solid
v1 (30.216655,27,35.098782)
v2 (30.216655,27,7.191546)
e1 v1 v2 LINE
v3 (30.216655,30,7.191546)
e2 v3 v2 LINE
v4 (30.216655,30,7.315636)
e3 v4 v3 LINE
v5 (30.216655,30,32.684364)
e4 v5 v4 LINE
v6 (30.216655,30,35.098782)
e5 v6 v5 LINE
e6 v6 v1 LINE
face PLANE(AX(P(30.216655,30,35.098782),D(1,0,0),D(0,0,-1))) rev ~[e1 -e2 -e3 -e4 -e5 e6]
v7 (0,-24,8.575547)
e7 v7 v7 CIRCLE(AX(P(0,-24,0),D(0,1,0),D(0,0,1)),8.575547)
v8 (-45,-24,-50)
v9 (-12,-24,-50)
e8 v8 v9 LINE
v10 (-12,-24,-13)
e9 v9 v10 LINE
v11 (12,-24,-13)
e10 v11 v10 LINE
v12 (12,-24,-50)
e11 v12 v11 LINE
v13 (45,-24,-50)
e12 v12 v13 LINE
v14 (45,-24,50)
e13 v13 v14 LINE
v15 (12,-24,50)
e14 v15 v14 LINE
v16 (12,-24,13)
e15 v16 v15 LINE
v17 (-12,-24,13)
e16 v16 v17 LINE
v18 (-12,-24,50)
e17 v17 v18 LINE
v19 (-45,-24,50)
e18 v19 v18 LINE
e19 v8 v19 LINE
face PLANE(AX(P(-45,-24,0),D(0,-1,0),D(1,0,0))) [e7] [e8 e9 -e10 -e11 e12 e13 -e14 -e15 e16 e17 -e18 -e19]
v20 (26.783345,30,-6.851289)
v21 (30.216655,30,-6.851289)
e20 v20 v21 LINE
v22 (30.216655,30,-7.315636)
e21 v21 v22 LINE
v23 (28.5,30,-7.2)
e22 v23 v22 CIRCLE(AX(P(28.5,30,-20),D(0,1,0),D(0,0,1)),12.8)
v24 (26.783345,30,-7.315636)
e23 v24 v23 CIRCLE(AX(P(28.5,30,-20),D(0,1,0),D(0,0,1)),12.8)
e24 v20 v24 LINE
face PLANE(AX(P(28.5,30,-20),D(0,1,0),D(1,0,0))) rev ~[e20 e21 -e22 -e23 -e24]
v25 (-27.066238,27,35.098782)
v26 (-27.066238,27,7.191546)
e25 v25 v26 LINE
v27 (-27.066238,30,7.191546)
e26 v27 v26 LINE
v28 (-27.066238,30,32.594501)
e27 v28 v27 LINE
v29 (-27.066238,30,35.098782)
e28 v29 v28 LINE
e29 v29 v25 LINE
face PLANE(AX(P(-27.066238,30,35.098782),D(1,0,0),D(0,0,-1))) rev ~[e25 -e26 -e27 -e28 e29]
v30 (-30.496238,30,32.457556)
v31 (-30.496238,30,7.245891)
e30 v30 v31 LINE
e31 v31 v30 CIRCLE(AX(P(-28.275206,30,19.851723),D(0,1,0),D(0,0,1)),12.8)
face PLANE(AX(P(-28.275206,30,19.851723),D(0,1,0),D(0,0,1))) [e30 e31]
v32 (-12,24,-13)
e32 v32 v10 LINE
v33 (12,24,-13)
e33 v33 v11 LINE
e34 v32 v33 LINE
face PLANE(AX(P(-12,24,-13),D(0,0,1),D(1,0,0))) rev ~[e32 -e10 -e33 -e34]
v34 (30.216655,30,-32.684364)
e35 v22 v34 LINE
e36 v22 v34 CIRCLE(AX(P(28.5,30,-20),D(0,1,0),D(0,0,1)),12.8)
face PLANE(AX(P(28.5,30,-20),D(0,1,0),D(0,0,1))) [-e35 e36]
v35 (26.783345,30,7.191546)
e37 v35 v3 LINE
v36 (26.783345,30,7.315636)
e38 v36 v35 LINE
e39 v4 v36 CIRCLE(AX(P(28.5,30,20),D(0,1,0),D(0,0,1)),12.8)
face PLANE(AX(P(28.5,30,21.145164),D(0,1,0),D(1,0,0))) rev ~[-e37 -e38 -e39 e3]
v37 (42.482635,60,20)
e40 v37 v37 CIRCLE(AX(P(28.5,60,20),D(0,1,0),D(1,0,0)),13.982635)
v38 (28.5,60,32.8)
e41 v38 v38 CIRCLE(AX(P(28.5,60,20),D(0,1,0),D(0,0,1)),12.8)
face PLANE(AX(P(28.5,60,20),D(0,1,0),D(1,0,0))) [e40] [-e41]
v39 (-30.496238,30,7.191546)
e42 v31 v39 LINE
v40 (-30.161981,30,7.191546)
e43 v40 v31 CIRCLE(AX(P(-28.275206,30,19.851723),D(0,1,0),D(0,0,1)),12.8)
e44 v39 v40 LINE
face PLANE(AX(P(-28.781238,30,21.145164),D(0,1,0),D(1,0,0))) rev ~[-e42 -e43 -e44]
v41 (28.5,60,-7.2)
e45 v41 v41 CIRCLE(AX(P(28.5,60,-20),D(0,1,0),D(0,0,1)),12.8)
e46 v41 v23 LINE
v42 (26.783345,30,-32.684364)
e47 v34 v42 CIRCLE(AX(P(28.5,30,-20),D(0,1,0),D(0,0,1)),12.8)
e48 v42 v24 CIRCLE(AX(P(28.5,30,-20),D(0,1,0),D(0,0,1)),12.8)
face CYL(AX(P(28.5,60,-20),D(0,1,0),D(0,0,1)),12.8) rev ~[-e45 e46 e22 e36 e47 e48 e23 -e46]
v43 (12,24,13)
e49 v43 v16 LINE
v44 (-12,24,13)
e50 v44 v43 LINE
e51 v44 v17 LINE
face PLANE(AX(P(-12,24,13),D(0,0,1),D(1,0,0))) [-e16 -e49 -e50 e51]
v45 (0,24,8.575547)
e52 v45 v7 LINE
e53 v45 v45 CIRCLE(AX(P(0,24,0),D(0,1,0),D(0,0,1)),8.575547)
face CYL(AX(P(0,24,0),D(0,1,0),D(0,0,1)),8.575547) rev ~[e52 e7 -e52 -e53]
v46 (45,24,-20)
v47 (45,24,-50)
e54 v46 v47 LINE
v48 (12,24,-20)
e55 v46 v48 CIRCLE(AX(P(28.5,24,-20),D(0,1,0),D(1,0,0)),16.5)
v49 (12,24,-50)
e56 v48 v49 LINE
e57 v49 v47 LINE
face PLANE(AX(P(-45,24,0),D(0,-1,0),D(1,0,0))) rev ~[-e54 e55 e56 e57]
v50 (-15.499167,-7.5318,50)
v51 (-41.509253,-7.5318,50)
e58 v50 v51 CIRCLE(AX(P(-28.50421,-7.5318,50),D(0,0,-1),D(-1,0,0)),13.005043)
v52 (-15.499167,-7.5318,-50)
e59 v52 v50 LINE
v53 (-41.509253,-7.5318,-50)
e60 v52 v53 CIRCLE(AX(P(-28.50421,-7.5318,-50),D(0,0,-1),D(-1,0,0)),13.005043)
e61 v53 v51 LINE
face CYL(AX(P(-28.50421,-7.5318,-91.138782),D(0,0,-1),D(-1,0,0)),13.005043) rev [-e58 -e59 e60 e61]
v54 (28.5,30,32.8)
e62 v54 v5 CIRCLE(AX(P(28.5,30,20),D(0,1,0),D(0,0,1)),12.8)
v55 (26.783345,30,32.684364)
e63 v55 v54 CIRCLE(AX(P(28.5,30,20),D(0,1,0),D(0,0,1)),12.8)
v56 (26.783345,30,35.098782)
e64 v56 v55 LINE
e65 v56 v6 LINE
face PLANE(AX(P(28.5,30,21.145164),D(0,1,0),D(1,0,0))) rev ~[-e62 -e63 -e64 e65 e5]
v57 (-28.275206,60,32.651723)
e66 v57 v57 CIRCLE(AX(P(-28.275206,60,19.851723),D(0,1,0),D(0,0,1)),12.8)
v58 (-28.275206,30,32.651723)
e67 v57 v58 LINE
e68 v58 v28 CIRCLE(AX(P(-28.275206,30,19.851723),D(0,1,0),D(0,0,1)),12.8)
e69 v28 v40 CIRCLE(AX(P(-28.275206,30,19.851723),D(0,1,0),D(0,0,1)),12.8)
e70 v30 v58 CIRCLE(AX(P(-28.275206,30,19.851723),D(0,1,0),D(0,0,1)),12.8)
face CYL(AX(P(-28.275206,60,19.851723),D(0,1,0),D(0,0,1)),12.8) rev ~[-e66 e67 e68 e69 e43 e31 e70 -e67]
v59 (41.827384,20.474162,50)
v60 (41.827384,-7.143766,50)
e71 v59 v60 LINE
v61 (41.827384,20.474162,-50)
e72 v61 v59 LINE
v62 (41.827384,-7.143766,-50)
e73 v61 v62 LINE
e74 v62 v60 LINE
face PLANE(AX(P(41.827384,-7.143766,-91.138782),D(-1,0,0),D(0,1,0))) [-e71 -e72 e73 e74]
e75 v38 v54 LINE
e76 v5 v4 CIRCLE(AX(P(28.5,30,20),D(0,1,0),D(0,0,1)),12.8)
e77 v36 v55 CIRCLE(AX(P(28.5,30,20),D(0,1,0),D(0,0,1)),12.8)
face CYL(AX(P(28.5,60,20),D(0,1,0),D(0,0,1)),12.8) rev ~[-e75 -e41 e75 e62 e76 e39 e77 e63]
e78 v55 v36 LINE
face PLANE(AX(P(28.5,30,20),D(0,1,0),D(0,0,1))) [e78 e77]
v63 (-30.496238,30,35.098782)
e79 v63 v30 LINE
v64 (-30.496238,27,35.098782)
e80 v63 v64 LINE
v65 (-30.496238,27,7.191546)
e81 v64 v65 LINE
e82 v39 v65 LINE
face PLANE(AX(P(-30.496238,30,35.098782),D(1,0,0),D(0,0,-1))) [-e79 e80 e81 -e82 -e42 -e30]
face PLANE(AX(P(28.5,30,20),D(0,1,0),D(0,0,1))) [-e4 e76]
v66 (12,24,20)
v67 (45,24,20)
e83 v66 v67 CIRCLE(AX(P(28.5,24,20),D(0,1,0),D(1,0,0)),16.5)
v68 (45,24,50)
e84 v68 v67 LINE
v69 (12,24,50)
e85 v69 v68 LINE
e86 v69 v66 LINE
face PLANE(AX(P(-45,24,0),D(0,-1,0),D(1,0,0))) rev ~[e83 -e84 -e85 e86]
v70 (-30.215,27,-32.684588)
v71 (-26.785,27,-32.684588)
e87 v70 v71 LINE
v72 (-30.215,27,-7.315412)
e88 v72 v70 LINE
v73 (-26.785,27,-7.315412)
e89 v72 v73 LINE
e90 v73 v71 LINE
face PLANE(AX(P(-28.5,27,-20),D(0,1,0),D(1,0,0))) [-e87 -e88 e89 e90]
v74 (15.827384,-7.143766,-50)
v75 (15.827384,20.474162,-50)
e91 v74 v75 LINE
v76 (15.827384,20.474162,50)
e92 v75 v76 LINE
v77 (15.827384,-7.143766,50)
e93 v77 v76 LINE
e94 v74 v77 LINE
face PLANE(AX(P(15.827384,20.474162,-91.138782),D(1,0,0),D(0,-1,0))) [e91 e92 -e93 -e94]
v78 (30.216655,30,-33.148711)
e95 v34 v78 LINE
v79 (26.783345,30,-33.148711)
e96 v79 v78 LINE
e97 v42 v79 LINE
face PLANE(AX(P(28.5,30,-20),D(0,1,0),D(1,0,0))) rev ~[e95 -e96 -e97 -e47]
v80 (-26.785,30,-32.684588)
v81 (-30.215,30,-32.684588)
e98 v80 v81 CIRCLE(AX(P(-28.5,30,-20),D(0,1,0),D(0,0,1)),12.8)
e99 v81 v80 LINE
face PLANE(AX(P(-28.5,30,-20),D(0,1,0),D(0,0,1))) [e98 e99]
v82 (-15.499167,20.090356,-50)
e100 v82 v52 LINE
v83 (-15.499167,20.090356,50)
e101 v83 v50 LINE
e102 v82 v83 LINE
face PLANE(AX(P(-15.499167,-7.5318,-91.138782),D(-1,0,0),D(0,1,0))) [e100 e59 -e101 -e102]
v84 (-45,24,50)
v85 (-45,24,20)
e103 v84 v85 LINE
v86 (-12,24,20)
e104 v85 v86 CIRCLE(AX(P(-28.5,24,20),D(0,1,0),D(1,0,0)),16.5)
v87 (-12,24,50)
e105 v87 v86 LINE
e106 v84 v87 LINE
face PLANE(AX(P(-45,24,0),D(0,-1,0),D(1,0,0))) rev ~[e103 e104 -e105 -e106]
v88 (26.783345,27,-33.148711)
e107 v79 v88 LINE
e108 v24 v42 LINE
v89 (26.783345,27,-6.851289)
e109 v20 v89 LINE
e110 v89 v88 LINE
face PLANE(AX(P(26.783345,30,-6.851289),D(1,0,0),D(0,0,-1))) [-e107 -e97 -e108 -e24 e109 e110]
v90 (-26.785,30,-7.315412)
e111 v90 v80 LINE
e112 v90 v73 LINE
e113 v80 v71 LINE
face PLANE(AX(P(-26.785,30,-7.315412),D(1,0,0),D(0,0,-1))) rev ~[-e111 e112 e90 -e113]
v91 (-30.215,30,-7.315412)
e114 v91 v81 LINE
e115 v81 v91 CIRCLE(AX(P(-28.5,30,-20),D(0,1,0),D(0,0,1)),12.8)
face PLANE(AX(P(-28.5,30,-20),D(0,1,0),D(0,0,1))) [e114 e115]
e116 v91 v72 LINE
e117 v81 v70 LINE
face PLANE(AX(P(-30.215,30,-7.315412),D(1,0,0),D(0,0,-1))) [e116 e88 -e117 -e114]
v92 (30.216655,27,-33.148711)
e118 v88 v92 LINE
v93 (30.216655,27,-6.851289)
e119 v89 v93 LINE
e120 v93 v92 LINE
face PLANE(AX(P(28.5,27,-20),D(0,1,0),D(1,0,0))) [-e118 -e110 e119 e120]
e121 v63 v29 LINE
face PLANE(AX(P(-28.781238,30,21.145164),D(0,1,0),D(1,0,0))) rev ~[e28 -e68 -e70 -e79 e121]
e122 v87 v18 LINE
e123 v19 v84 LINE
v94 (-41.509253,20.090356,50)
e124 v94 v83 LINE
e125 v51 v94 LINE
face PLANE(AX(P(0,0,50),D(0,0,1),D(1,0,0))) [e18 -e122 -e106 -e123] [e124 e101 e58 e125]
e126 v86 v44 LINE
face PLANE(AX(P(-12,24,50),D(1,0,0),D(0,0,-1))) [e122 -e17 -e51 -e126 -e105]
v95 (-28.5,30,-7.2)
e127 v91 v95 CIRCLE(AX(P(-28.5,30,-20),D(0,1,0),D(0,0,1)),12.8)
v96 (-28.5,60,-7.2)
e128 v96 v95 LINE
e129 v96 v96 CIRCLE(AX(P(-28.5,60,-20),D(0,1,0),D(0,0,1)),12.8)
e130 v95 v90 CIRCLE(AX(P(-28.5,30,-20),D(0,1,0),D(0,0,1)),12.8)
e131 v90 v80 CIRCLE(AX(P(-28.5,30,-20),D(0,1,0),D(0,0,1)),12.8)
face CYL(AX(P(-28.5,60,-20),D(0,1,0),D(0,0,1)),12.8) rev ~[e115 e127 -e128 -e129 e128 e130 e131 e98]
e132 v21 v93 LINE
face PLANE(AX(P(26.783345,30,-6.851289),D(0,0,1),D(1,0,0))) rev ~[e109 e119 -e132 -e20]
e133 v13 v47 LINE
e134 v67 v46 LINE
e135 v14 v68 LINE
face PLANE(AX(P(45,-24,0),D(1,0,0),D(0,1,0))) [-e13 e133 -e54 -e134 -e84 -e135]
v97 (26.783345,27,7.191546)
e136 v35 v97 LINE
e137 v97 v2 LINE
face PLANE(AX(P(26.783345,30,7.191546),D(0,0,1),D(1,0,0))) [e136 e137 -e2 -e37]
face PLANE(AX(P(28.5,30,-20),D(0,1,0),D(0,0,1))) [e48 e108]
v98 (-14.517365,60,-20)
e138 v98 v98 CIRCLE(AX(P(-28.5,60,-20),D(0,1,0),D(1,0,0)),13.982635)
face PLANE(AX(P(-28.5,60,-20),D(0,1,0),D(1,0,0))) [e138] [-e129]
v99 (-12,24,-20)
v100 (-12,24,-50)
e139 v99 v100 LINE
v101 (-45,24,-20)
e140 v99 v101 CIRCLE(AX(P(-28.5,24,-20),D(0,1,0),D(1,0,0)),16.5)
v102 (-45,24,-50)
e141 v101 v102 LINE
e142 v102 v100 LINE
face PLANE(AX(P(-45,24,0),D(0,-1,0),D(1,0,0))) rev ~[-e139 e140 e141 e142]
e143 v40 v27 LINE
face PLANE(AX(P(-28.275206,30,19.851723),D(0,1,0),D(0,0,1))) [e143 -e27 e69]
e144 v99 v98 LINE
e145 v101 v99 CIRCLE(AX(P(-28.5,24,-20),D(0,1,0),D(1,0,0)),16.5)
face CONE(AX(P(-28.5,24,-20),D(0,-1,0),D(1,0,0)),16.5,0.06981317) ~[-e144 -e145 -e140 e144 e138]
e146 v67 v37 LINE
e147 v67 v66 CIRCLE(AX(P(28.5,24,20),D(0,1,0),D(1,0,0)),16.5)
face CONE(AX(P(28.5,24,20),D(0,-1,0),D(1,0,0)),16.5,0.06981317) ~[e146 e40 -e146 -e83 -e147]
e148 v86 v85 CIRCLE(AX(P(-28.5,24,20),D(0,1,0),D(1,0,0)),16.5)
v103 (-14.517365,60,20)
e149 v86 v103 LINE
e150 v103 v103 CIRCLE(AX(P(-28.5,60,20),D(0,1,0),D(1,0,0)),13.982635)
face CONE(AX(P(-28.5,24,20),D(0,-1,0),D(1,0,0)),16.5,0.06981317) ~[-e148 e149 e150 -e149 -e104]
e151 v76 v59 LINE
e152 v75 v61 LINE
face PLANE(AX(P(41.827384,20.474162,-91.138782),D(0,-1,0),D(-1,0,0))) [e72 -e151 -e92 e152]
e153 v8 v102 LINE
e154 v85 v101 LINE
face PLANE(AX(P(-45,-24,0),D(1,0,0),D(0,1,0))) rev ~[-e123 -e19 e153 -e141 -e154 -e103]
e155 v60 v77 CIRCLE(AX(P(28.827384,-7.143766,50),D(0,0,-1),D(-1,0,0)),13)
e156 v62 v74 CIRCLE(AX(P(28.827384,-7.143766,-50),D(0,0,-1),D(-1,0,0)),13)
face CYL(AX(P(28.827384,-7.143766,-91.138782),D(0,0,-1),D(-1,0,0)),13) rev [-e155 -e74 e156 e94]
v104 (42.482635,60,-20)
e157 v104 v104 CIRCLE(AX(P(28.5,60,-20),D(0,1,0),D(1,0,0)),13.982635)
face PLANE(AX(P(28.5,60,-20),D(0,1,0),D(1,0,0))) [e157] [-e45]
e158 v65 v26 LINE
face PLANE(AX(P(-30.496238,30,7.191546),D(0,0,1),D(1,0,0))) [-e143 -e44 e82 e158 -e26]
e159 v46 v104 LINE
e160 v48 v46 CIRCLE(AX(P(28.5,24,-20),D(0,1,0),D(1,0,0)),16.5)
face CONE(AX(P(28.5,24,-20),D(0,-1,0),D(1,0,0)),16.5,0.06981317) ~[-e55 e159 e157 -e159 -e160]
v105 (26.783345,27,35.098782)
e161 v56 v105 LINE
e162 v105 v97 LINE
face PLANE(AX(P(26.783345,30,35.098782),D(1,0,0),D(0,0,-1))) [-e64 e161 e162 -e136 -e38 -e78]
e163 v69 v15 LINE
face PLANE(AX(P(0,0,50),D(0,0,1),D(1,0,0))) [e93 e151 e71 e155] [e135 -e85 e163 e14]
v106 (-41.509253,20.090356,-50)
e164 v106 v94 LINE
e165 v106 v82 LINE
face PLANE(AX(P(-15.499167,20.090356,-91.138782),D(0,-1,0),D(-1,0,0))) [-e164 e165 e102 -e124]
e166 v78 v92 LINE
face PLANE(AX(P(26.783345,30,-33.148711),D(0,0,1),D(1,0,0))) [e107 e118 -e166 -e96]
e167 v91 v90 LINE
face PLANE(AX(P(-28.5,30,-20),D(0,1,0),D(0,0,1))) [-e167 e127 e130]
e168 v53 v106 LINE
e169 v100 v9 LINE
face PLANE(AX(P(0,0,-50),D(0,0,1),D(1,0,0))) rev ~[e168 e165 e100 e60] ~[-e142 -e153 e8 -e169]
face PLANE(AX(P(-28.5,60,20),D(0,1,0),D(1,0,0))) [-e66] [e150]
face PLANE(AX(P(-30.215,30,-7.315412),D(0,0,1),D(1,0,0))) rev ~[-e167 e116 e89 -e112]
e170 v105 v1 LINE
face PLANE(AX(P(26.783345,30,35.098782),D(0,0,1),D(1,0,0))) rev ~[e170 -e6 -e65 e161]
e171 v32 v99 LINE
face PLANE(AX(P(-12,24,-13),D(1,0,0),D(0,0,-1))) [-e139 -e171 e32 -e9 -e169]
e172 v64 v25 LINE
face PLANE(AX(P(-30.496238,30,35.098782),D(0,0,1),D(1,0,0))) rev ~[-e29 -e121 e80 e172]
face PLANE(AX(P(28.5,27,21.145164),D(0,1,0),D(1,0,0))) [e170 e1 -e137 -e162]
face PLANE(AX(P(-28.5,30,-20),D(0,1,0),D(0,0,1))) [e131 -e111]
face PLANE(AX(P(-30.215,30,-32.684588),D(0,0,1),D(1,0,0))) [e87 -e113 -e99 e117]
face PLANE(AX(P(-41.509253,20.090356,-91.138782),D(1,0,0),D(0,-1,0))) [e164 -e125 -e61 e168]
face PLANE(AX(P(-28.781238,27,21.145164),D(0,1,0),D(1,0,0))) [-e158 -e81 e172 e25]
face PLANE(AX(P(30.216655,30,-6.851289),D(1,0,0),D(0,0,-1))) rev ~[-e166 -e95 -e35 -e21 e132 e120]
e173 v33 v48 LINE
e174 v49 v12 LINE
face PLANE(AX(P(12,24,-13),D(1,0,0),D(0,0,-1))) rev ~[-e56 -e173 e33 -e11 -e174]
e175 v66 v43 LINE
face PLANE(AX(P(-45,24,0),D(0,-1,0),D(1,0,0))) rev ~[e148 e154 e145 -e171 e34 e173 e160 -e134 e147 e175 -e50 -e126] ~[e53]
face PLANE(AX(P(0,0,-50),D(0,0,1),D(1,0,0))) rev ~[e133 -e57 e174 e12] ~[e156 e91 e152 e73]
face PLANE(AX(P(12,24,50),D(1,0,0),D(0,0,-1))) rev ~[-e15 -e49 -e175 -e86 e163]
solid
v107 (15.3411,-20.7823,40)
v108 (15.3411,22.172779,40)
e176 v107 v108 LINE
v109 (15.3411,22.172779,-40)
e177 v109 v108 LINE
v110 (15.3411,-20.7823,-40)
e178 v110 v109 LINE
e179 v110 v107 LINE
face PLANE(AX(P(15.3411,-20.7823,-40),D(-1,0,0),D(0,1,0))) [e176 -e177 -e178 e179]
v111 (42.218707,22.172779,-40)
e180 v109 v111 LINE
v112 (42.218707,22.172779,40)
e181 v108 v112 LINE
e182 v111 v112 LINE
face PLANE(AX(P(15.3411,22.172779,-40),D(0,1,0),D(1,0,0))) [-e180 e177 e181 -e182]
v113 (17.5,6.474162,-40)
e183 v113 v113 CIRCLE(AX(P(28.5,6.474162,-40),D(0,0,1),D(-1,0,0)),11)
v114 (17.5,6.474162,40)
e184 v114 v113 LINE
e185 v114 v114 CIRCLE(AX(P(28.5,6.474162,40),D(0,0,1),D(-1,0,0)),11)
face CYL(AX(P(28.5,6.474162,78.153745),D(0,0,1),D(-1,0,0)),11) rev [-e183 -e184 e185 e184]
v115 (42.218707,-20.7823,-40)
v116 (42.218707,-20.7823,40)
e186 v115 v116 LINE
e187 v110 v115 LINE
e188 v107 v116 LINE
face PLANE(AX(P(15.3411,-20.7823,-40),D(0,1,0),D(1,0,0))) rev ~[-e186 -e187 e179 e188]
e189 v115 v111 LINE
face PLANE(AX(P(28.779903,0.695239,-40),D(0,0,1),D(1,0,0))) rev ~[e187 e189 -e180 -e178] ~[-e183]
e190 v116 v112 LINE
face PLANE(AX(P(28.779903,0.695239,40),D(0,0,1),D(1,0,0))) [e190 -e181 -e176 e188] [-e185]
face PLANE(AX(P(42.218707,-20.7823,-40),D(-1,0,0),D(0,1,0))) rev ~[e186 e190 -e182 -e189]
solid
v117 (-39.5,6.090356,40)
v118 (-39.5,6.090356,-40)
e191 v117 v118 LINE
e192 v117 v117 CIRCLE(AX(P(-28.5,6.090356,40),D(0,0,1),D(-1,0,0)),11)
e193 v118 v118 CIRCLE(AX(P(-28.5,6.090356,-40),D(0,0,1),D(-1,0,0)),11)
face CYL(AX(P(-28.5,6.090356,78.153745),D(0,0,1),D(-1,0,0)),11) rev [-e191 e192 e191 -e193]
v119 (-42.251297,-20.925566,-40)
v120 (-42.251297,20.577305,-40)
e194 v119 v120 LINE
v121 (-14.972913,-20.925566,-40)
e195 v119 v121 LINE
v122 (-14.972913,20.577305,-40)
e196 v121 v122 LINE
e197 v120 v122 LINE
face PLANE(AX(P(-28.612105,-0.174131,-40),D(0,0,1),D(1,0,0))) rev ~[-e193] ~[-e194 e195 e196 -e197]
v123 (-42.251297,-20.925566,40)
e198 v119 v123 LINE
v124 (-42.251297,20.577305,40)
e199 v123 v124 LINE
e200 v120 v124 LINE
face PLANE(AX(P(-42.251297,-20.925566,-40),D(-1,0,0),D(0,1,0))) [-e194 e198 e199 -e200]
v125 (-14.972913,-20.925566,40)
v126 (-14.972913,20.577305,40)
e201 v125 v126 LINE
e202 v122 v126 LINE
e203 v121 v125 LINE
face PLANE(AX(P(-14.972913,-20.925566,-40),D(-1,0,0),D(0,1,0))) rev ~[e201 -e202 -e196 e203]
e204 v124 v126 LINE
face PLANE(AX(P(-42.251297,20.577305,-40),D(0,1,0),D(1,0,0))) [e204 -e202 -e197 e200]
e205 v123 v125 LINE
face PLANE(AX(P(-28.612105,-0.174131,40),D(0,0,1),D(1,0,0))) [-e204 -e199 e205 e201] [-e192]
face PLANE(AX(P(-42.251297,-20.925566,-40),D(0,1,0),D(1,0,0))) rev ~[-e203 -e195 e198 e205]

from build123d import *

# Parameters (mm, degrees)
SKETCH1_W                     = 90
SKETCH1_H                     = 48
BOSS_EXTRUDE1_DEPTH           = 50
SKETCH2_W                     = 24
SKETCH2_H                     = 37
CUT_EXTRUDE1_DEPTH            = 100
SKETCH3_W                     = 24
SKETCH3_H                     = 37
CUT_EXTRUDE2_DEPTH            = 100
SKETCH4_R                     = 8.575546541
CUT_EXTRUDE3_DEPTH            = 100
SKETCH5_R                     = 16.5
BOSS_EXTRUDE2_DEPTH           = 36
BOSS_EXTRUDE2_DRAFT           = 4
BOSS_EXTRUDE2_PROFILE_2_DEPTH = 36
BOSS_EXTRUDE2_PROFILE_2_DRAFT = 4
BOSS_EXTRUDE2_PROFILE_3_DEPTH = 36
BOSS_EXTRUDE2_PROFILE_3_DRAFT = 4
BOSS_EXTRUDE2_PROFILE_4_DEPTH = 36
BOSS_EXTRUDE2_PROFILE_4_DRAFT = 4
SKETCH6_R                     = 12.8
CUT_EXTRUDE4_DEPTH            = 30
SKETCH10_R                    = 12.8
CUT_EXTRUDE5_DEPTH            = 30
SKETCH12_W                    = 3.43330904
SKETCH12_H                    = 26.297422042
SKETCH12_W_2                  = 3.43
SKETCH12_H_2                  = 25.369176178
SKETCH12_H_3                  = 27.907235724
CUT_EXTRUDE6_DEPTH            = 3
CUT_EXTRUDE9_DEPTH            = 91.138781887
CUT_EXTRUDE9_DEPTH_BACK       = 91.138781887
BOSS_EXTRUDE3_DEPTH           = 40
BOSS_EXTRUDE3_DEPTH_BACK      = 40
SKETCH18_W                    = 26.877606789
SKETCH18_H                    = 42.955079342
BOSS_EXTRUDE3_2_DEPTH         = 40
BOSS_EXTRUDE3_2_DEPTH_BACK    = 40
SKETCH18_W_2                  = 27.278383828
SKETCH18_H_2                  = 41.502870551
CUT_EXTRUDE10_DEPTH           = 118.153745139
CUT_EXTRUDE10_DEPTH_BACK      = 118.153745139
SKETCH19_R                    = 11


with BuildPart() as part:
    # Sketch1 → Boss-Extrude1 (new, symmetric)
    with BuildSketch(Plane.XY):
        Rectangle(SKETCH1_W, SKETCH1_H)
    extrude(amount=BOSS_EXTRUDE1_DEPTH, both=True)

    # Sketch2 → Cut-Extrude1 (cut)
    with BuildSketch(Plane(origin=(0, 24, 0), x_dir=(1, 0, 0), z_dir=(0, 1, 0))):
        with Locations((0, 31.5)):
            Rectangle(SKETCH2_W, SKETCH2_H)
    extrude(amount=-CUT_EXTRUDE1_DEPTH, mode=Mode.SUBTRACT)

    # Sketch3 → Cut-Extrude2 (cut)
    with BuildSketch(Plane(origin=(0, 24, 0), x_dir=(1, 0, 0), z_dir=(0, 1, 0))):
        with Locations((0, -31.5)):
            Rectangle(SKETCH3_W, SKETCH3_H)
    extrude(amount=-CUT_EXTRUDE2_DEPTH, mode=Mode.SUBTRACT)

    # Sketch4 → Cut-Extrude3 (cut)
    with BuildSketch(Plane(origin=(0, 24, 0), x_dir=(1, 0, 0), z_dir=(0, 1, 0))):
        with Locations(Location((0, 0, 0), (0, 0, 270))):
            Circle(SKETCH4_R)
    extrude(amount=-CUT_EXTRUDE3_DEPTH, mode=Mode.SUBTRACT)


with BuildPart() as boss_extrude2_tool:
    # Sketch5 → Boss-Extrude2 (with draft: the straight prism first)
    with BuildSketch(Plane(origin=(0, 24, 0), x_dir=(1, 0, 0), z_dir=(0, 1, 0))):
        with Locations((28.5, 20)):
            Circle(SKETCH5_R)
    extrude(amount=BOSS_EXTRUDE2_DEPTH)
    # Boss-Extrude2: the draft: its side faces are tilted about the plane it starts from
    boss_extrude2_sides = [boss_extrude2_tool.faces().sort_by_distance(p)[0] for p in [
        (12, 42, -20),
    ]]
    draft(boss_extrude2_sides, Plane(origin=(0, 24, 0), x_dir=(1, 0, 0), z_dir=(0, 1, 0)), BOSS_EXTRUDE2_DRAFT)


with BuildPart() as part_1:
    add(part.part)

    # Boss-Extrude2: add boss_extrude2_tool
    add(boss_extrude2_tool.part)


with BuildPart() as boss_extrude2_profile_2_tool:
    # Sketch5 → Boss-Extrude2 profile 2 (with draft: the straight prism first)
    with BuildSketch(Plane(origin=(0, 24, 0), x_dir=(1, 0, 0), z_dir=(0, 1, 0))):
        with Locations((-28.5, 20)):
            Circle(SKETCH5_R)
    extrude(amount=BOSS_EXTRUDE2_PROFILE_2_DEPTH)
    # Boss-Extrude2 profile 2: the draft: its side faces are tilted about the plane it starts from
    boss_extrude2_profile_2_sides = [boss_extrude2_profile_2_tool.faces().sort_by_distance(p)[0] for p in [
        (-45, 42, -20),
    ]]
    draft(boss_extrude2_profile_2_sides, Plane(origin=(0, 24, 0), x_dir=(1, 0, 0), z_dir=(0, 1, 0)), BOSS_EXTRUDE2_PROFILE_2_DRAFT)


with BuildPart() as part_2:
    add(part_1.part)

    # Boss-Extrude2 profile 2: add boss_extrude2_profile_2_tool
    add(boss_extrude2_profile_2_tool.part)


with BuildPart() as boss_extrude2_profile_3_tool:
    # Sketch5 → Boss-Extrude2 profile 3 (with draft: the straight prism first)
    with BuildSketch(Plane(origin=(0, 24, 0), x_dir=(1, 0, 0), z_dir=(0, 1, 0))):
        with Locations((-28.5, -20)):
            Circle(SKETCH5_R)
    extrude(amount=BOSS_EXTRUDE2_PROFILE_3_DEPTH)
    # Boss-Extrude2 profile 3: the draft: its side faces are tilted about the plane it starts from
    boss_extrude2_profile_3_sides = [boss_extrude2_profile_3_tool.faces().sort_by_distance(p)[0] for p in [
        (-45, 42, 20),
    ]]
    draft(boss_extrude2_profile_3_sides, Plane(origin=(0, 24, 0), x_dir=(1, 0, 0), z_dir=(0, 1, 0)), BOSS_EXTRUDE2_PROFILE_3_DRAFT)


with BuildPart() as part_3:
    add(part_2.part)

    # Boss-Extrude2 profile 3: add boss_extrude2_profile_3_tool
    add(boss_extrude2_profile_3_tool.part)


with BuildPart() as boss_extrude2_profile_4_tool:
    # Sketch5 → Boss-Extrude2 profile 4 (with draft: the straight prism first)
    with BuildSketch(Plane(origin=(0, 24, 0), x_dir=(1, 0, 0), z_dir=(0, 1, 0))):
        with Locations((28.5, -20)):
            Circle(SKETCH5_R)
    extrude(amount=BOSS_EXTRUDE2_PROFILE_4_DEPTH)
    # Boss-Extrude2 profile 4: the draft: its side faces are tilted about the plane it starts from
    boss_extrude2_profile_4_sides = [boss_extrude2_profile_4_tool.faces().sort_by_distance(p)[0] for p in [
        (12, 42, 20),
    ]]
    draft(boss_extrude2_profile_4_sides, Plane(origin=(0, 24, 0), x_dir=(1, 0, 0), z_dir=(0, 1, 0)), BOSS_EXTRUDE2_PROFILE_4_DRAFT)


with BuildPart() as part_4:
    add(part_3.part)

    # Boss-Extrude2 profile 4: add boss_extrude2_profile_4_tool
    add(boss_extrude2_profile_4_tool.part)

    # Sketch6 → Cut-Extrude4 (cut)
    with BuildSketch(Plane(origin=(0, 60, 0), x_dir=(1, 0, 0), z_dir=(0, 1, 0))):
        with Locations(Location((-28.5, 20, 0), (0, 0, 270))):
            Circle(SKETCH6_R)
    extrude(amount=-CUT_EXTRUDE4_DEPTH, mode=Mode.SUBTRACT)

    # Sketch10 → Cut-Extrude5 (cut)
    with BuildSketch(Plane(origin=(0, 60, 0), x_dir=(1, 0, 0), z_dir=(0, 1, 0))):
        with Locations(Location((-28.275205781, -19.851723188, 0), (0, 0, 270))):
            Circle(SKETCH10_R)
        with Locations(Location((28.5, -20, 0), (0, 0, 270))):
            Circle(SKETCH10_R)
        with Locations(Location((28.5, 20, 0), (0, 0, 270))):
            Circle(SKETCH10_R)
    extrude(amount=-CUT_EXTRUDE5_DEPTH, mode=Mode.SUBTRACT)

    # Sketch12 → Cut-Extrude6 (cut)
    with BuildSketch(Plane(origin=(0, 30, 0), x_dir=(1, 0, 0), z_dir=(0, 1, 0))):
        with Locations((28.5, 20)):
            Rectangle(SKETCH12_W, SKETCH12_H)
        with Locations((-28.5, 20)):
            Rectangle(SKETCH12_W_2, SKETCH12_H_2)
        with Locations((-28.781238017, -21.145164169)):
            Rectangle(SKETCH12_W_2, SKETCH12_H_3)
        with Locations((28.5, -21.145164169)):
            Rectangle(SKETCH12_W, SKETCH12_H_3)
    extrude(amount=-CUT_EXTRUDE6_DEPTH, mode=Mode.SUBTRACT)

    # Sketch13 → Cut-Extrude9 (cut, two sides: drawn at the far end of the back side and taken through both)
    with BuildSketch(Plane.XY.offset(-CUT_EXTRUDE9_DEPTH_BACK)):
        with BuildLine():
            Line((-41.509252601, 20.090355514), (-41.509252601, -7.531799792))
            ThreePointArc((-41.509252601, -7.531799792), (-28.504209783, -20.53684261), (-15.499166965, -7.531799792))
            Line((-15.499166965, -7.531799792), (-15.499166965, 20.090355514))
            Line((-15.499166965, 20.090355514), (-41.509252601, 20.090355514))
        make_face()
        with BuildLine():
            Line((15.82738357, 20.474162183), (15.82738357, -7.14376597))
            ThreePointArc((15.82738357, -7.14376597), (28.82738357, -20.14376597), (41.82738357, -7.14376597))
            Line((41.82738357, -7.14376597), (41.82738357, 20.474162183))
            Line((41.82738357, 20.474162183), (15.82738357, 20.474162183))
        make_face()
    extrude(amount=CUT_EXTRUDE9_DEPTH + CUT_EXTRUDE9_DEPTH_BACK, mode=Mode.SUBTRACT)


with BuildPart() as body_2:
    # Sketch18 → Boss-Extrude3 (new, two sides: drawn at the far end of the back side and taken through both)
    with BuildSketch(Plane.XY.offset(-BOSS_EXTRUDE3_DEPTH_BACK)):
        with Locations((28.77990316, 0.695239465)):
            Rectangle(SKETCH18_W, SKETCH18_H)
    extrude(amount=BOSS_EXTRUDE3_DEPTH + BOSS_EXTRUDE3_DEPTH_BACK)


with BuildPart() as body_3:
    # Sketch18 → Boss-Extrude3 2 (new, two sides: drawn at the far end of the back side and taken through both)
    with BuildSketch(Plane.XY.offset(-BOSS_EXTRUDE3_2_DEPTH_BACK)):
        with Locations((-28.612105285, -0.174130514)):
            Rectangle(SKETCH18_W_2, SKETCH18_H_2)
    extrude(amount=BOSS_EXTRUDE3_2_DEPTH + BOSS_EXTRUDE3_2_DEPTH_BACK)


with BuildPart() as cut_extrude10_tool:
    # Sketch19 → Cut-Extrude10 (new, two sides: drawn at the far end of the back side and taken through both)
    with BuildSketch(Plane(origin=(0, 0, -40), x_dir=(-1, 0, 0), z_dir=(0, 0, -1)).offset(-CUT_EXTRUDE10_DEPTH_BACK)):
        with Locations((-28.5, 6.474162183)):
            Circle(SKETCH19_R)
        with Locations((28.5, 6.090355514)):
            Circle(SKETCH19_R)
    extrude(amount=CUT_EXTRUDE10_DEPTH + CUT_EXTRUDE10_DEPTH_BACK)


with BuildPart() as body_2_1:
    add(body_2.part)

    # Cut-Extrude10: cut by cut_extrude10_tool
    add(cut_extrude10_tool.part, mode=Mode.SUBTRACT)


with BuildPart() as body_3_1:
    add(body_3.part)

    # Cut-Extrude10: cut by cut_extrude10_tool
    add(cut_extrude10_tool.part, mode=Mode.SUBTRACT)


solid = Compound([part_4.part, body_2_1.part, body_3_1.part])
